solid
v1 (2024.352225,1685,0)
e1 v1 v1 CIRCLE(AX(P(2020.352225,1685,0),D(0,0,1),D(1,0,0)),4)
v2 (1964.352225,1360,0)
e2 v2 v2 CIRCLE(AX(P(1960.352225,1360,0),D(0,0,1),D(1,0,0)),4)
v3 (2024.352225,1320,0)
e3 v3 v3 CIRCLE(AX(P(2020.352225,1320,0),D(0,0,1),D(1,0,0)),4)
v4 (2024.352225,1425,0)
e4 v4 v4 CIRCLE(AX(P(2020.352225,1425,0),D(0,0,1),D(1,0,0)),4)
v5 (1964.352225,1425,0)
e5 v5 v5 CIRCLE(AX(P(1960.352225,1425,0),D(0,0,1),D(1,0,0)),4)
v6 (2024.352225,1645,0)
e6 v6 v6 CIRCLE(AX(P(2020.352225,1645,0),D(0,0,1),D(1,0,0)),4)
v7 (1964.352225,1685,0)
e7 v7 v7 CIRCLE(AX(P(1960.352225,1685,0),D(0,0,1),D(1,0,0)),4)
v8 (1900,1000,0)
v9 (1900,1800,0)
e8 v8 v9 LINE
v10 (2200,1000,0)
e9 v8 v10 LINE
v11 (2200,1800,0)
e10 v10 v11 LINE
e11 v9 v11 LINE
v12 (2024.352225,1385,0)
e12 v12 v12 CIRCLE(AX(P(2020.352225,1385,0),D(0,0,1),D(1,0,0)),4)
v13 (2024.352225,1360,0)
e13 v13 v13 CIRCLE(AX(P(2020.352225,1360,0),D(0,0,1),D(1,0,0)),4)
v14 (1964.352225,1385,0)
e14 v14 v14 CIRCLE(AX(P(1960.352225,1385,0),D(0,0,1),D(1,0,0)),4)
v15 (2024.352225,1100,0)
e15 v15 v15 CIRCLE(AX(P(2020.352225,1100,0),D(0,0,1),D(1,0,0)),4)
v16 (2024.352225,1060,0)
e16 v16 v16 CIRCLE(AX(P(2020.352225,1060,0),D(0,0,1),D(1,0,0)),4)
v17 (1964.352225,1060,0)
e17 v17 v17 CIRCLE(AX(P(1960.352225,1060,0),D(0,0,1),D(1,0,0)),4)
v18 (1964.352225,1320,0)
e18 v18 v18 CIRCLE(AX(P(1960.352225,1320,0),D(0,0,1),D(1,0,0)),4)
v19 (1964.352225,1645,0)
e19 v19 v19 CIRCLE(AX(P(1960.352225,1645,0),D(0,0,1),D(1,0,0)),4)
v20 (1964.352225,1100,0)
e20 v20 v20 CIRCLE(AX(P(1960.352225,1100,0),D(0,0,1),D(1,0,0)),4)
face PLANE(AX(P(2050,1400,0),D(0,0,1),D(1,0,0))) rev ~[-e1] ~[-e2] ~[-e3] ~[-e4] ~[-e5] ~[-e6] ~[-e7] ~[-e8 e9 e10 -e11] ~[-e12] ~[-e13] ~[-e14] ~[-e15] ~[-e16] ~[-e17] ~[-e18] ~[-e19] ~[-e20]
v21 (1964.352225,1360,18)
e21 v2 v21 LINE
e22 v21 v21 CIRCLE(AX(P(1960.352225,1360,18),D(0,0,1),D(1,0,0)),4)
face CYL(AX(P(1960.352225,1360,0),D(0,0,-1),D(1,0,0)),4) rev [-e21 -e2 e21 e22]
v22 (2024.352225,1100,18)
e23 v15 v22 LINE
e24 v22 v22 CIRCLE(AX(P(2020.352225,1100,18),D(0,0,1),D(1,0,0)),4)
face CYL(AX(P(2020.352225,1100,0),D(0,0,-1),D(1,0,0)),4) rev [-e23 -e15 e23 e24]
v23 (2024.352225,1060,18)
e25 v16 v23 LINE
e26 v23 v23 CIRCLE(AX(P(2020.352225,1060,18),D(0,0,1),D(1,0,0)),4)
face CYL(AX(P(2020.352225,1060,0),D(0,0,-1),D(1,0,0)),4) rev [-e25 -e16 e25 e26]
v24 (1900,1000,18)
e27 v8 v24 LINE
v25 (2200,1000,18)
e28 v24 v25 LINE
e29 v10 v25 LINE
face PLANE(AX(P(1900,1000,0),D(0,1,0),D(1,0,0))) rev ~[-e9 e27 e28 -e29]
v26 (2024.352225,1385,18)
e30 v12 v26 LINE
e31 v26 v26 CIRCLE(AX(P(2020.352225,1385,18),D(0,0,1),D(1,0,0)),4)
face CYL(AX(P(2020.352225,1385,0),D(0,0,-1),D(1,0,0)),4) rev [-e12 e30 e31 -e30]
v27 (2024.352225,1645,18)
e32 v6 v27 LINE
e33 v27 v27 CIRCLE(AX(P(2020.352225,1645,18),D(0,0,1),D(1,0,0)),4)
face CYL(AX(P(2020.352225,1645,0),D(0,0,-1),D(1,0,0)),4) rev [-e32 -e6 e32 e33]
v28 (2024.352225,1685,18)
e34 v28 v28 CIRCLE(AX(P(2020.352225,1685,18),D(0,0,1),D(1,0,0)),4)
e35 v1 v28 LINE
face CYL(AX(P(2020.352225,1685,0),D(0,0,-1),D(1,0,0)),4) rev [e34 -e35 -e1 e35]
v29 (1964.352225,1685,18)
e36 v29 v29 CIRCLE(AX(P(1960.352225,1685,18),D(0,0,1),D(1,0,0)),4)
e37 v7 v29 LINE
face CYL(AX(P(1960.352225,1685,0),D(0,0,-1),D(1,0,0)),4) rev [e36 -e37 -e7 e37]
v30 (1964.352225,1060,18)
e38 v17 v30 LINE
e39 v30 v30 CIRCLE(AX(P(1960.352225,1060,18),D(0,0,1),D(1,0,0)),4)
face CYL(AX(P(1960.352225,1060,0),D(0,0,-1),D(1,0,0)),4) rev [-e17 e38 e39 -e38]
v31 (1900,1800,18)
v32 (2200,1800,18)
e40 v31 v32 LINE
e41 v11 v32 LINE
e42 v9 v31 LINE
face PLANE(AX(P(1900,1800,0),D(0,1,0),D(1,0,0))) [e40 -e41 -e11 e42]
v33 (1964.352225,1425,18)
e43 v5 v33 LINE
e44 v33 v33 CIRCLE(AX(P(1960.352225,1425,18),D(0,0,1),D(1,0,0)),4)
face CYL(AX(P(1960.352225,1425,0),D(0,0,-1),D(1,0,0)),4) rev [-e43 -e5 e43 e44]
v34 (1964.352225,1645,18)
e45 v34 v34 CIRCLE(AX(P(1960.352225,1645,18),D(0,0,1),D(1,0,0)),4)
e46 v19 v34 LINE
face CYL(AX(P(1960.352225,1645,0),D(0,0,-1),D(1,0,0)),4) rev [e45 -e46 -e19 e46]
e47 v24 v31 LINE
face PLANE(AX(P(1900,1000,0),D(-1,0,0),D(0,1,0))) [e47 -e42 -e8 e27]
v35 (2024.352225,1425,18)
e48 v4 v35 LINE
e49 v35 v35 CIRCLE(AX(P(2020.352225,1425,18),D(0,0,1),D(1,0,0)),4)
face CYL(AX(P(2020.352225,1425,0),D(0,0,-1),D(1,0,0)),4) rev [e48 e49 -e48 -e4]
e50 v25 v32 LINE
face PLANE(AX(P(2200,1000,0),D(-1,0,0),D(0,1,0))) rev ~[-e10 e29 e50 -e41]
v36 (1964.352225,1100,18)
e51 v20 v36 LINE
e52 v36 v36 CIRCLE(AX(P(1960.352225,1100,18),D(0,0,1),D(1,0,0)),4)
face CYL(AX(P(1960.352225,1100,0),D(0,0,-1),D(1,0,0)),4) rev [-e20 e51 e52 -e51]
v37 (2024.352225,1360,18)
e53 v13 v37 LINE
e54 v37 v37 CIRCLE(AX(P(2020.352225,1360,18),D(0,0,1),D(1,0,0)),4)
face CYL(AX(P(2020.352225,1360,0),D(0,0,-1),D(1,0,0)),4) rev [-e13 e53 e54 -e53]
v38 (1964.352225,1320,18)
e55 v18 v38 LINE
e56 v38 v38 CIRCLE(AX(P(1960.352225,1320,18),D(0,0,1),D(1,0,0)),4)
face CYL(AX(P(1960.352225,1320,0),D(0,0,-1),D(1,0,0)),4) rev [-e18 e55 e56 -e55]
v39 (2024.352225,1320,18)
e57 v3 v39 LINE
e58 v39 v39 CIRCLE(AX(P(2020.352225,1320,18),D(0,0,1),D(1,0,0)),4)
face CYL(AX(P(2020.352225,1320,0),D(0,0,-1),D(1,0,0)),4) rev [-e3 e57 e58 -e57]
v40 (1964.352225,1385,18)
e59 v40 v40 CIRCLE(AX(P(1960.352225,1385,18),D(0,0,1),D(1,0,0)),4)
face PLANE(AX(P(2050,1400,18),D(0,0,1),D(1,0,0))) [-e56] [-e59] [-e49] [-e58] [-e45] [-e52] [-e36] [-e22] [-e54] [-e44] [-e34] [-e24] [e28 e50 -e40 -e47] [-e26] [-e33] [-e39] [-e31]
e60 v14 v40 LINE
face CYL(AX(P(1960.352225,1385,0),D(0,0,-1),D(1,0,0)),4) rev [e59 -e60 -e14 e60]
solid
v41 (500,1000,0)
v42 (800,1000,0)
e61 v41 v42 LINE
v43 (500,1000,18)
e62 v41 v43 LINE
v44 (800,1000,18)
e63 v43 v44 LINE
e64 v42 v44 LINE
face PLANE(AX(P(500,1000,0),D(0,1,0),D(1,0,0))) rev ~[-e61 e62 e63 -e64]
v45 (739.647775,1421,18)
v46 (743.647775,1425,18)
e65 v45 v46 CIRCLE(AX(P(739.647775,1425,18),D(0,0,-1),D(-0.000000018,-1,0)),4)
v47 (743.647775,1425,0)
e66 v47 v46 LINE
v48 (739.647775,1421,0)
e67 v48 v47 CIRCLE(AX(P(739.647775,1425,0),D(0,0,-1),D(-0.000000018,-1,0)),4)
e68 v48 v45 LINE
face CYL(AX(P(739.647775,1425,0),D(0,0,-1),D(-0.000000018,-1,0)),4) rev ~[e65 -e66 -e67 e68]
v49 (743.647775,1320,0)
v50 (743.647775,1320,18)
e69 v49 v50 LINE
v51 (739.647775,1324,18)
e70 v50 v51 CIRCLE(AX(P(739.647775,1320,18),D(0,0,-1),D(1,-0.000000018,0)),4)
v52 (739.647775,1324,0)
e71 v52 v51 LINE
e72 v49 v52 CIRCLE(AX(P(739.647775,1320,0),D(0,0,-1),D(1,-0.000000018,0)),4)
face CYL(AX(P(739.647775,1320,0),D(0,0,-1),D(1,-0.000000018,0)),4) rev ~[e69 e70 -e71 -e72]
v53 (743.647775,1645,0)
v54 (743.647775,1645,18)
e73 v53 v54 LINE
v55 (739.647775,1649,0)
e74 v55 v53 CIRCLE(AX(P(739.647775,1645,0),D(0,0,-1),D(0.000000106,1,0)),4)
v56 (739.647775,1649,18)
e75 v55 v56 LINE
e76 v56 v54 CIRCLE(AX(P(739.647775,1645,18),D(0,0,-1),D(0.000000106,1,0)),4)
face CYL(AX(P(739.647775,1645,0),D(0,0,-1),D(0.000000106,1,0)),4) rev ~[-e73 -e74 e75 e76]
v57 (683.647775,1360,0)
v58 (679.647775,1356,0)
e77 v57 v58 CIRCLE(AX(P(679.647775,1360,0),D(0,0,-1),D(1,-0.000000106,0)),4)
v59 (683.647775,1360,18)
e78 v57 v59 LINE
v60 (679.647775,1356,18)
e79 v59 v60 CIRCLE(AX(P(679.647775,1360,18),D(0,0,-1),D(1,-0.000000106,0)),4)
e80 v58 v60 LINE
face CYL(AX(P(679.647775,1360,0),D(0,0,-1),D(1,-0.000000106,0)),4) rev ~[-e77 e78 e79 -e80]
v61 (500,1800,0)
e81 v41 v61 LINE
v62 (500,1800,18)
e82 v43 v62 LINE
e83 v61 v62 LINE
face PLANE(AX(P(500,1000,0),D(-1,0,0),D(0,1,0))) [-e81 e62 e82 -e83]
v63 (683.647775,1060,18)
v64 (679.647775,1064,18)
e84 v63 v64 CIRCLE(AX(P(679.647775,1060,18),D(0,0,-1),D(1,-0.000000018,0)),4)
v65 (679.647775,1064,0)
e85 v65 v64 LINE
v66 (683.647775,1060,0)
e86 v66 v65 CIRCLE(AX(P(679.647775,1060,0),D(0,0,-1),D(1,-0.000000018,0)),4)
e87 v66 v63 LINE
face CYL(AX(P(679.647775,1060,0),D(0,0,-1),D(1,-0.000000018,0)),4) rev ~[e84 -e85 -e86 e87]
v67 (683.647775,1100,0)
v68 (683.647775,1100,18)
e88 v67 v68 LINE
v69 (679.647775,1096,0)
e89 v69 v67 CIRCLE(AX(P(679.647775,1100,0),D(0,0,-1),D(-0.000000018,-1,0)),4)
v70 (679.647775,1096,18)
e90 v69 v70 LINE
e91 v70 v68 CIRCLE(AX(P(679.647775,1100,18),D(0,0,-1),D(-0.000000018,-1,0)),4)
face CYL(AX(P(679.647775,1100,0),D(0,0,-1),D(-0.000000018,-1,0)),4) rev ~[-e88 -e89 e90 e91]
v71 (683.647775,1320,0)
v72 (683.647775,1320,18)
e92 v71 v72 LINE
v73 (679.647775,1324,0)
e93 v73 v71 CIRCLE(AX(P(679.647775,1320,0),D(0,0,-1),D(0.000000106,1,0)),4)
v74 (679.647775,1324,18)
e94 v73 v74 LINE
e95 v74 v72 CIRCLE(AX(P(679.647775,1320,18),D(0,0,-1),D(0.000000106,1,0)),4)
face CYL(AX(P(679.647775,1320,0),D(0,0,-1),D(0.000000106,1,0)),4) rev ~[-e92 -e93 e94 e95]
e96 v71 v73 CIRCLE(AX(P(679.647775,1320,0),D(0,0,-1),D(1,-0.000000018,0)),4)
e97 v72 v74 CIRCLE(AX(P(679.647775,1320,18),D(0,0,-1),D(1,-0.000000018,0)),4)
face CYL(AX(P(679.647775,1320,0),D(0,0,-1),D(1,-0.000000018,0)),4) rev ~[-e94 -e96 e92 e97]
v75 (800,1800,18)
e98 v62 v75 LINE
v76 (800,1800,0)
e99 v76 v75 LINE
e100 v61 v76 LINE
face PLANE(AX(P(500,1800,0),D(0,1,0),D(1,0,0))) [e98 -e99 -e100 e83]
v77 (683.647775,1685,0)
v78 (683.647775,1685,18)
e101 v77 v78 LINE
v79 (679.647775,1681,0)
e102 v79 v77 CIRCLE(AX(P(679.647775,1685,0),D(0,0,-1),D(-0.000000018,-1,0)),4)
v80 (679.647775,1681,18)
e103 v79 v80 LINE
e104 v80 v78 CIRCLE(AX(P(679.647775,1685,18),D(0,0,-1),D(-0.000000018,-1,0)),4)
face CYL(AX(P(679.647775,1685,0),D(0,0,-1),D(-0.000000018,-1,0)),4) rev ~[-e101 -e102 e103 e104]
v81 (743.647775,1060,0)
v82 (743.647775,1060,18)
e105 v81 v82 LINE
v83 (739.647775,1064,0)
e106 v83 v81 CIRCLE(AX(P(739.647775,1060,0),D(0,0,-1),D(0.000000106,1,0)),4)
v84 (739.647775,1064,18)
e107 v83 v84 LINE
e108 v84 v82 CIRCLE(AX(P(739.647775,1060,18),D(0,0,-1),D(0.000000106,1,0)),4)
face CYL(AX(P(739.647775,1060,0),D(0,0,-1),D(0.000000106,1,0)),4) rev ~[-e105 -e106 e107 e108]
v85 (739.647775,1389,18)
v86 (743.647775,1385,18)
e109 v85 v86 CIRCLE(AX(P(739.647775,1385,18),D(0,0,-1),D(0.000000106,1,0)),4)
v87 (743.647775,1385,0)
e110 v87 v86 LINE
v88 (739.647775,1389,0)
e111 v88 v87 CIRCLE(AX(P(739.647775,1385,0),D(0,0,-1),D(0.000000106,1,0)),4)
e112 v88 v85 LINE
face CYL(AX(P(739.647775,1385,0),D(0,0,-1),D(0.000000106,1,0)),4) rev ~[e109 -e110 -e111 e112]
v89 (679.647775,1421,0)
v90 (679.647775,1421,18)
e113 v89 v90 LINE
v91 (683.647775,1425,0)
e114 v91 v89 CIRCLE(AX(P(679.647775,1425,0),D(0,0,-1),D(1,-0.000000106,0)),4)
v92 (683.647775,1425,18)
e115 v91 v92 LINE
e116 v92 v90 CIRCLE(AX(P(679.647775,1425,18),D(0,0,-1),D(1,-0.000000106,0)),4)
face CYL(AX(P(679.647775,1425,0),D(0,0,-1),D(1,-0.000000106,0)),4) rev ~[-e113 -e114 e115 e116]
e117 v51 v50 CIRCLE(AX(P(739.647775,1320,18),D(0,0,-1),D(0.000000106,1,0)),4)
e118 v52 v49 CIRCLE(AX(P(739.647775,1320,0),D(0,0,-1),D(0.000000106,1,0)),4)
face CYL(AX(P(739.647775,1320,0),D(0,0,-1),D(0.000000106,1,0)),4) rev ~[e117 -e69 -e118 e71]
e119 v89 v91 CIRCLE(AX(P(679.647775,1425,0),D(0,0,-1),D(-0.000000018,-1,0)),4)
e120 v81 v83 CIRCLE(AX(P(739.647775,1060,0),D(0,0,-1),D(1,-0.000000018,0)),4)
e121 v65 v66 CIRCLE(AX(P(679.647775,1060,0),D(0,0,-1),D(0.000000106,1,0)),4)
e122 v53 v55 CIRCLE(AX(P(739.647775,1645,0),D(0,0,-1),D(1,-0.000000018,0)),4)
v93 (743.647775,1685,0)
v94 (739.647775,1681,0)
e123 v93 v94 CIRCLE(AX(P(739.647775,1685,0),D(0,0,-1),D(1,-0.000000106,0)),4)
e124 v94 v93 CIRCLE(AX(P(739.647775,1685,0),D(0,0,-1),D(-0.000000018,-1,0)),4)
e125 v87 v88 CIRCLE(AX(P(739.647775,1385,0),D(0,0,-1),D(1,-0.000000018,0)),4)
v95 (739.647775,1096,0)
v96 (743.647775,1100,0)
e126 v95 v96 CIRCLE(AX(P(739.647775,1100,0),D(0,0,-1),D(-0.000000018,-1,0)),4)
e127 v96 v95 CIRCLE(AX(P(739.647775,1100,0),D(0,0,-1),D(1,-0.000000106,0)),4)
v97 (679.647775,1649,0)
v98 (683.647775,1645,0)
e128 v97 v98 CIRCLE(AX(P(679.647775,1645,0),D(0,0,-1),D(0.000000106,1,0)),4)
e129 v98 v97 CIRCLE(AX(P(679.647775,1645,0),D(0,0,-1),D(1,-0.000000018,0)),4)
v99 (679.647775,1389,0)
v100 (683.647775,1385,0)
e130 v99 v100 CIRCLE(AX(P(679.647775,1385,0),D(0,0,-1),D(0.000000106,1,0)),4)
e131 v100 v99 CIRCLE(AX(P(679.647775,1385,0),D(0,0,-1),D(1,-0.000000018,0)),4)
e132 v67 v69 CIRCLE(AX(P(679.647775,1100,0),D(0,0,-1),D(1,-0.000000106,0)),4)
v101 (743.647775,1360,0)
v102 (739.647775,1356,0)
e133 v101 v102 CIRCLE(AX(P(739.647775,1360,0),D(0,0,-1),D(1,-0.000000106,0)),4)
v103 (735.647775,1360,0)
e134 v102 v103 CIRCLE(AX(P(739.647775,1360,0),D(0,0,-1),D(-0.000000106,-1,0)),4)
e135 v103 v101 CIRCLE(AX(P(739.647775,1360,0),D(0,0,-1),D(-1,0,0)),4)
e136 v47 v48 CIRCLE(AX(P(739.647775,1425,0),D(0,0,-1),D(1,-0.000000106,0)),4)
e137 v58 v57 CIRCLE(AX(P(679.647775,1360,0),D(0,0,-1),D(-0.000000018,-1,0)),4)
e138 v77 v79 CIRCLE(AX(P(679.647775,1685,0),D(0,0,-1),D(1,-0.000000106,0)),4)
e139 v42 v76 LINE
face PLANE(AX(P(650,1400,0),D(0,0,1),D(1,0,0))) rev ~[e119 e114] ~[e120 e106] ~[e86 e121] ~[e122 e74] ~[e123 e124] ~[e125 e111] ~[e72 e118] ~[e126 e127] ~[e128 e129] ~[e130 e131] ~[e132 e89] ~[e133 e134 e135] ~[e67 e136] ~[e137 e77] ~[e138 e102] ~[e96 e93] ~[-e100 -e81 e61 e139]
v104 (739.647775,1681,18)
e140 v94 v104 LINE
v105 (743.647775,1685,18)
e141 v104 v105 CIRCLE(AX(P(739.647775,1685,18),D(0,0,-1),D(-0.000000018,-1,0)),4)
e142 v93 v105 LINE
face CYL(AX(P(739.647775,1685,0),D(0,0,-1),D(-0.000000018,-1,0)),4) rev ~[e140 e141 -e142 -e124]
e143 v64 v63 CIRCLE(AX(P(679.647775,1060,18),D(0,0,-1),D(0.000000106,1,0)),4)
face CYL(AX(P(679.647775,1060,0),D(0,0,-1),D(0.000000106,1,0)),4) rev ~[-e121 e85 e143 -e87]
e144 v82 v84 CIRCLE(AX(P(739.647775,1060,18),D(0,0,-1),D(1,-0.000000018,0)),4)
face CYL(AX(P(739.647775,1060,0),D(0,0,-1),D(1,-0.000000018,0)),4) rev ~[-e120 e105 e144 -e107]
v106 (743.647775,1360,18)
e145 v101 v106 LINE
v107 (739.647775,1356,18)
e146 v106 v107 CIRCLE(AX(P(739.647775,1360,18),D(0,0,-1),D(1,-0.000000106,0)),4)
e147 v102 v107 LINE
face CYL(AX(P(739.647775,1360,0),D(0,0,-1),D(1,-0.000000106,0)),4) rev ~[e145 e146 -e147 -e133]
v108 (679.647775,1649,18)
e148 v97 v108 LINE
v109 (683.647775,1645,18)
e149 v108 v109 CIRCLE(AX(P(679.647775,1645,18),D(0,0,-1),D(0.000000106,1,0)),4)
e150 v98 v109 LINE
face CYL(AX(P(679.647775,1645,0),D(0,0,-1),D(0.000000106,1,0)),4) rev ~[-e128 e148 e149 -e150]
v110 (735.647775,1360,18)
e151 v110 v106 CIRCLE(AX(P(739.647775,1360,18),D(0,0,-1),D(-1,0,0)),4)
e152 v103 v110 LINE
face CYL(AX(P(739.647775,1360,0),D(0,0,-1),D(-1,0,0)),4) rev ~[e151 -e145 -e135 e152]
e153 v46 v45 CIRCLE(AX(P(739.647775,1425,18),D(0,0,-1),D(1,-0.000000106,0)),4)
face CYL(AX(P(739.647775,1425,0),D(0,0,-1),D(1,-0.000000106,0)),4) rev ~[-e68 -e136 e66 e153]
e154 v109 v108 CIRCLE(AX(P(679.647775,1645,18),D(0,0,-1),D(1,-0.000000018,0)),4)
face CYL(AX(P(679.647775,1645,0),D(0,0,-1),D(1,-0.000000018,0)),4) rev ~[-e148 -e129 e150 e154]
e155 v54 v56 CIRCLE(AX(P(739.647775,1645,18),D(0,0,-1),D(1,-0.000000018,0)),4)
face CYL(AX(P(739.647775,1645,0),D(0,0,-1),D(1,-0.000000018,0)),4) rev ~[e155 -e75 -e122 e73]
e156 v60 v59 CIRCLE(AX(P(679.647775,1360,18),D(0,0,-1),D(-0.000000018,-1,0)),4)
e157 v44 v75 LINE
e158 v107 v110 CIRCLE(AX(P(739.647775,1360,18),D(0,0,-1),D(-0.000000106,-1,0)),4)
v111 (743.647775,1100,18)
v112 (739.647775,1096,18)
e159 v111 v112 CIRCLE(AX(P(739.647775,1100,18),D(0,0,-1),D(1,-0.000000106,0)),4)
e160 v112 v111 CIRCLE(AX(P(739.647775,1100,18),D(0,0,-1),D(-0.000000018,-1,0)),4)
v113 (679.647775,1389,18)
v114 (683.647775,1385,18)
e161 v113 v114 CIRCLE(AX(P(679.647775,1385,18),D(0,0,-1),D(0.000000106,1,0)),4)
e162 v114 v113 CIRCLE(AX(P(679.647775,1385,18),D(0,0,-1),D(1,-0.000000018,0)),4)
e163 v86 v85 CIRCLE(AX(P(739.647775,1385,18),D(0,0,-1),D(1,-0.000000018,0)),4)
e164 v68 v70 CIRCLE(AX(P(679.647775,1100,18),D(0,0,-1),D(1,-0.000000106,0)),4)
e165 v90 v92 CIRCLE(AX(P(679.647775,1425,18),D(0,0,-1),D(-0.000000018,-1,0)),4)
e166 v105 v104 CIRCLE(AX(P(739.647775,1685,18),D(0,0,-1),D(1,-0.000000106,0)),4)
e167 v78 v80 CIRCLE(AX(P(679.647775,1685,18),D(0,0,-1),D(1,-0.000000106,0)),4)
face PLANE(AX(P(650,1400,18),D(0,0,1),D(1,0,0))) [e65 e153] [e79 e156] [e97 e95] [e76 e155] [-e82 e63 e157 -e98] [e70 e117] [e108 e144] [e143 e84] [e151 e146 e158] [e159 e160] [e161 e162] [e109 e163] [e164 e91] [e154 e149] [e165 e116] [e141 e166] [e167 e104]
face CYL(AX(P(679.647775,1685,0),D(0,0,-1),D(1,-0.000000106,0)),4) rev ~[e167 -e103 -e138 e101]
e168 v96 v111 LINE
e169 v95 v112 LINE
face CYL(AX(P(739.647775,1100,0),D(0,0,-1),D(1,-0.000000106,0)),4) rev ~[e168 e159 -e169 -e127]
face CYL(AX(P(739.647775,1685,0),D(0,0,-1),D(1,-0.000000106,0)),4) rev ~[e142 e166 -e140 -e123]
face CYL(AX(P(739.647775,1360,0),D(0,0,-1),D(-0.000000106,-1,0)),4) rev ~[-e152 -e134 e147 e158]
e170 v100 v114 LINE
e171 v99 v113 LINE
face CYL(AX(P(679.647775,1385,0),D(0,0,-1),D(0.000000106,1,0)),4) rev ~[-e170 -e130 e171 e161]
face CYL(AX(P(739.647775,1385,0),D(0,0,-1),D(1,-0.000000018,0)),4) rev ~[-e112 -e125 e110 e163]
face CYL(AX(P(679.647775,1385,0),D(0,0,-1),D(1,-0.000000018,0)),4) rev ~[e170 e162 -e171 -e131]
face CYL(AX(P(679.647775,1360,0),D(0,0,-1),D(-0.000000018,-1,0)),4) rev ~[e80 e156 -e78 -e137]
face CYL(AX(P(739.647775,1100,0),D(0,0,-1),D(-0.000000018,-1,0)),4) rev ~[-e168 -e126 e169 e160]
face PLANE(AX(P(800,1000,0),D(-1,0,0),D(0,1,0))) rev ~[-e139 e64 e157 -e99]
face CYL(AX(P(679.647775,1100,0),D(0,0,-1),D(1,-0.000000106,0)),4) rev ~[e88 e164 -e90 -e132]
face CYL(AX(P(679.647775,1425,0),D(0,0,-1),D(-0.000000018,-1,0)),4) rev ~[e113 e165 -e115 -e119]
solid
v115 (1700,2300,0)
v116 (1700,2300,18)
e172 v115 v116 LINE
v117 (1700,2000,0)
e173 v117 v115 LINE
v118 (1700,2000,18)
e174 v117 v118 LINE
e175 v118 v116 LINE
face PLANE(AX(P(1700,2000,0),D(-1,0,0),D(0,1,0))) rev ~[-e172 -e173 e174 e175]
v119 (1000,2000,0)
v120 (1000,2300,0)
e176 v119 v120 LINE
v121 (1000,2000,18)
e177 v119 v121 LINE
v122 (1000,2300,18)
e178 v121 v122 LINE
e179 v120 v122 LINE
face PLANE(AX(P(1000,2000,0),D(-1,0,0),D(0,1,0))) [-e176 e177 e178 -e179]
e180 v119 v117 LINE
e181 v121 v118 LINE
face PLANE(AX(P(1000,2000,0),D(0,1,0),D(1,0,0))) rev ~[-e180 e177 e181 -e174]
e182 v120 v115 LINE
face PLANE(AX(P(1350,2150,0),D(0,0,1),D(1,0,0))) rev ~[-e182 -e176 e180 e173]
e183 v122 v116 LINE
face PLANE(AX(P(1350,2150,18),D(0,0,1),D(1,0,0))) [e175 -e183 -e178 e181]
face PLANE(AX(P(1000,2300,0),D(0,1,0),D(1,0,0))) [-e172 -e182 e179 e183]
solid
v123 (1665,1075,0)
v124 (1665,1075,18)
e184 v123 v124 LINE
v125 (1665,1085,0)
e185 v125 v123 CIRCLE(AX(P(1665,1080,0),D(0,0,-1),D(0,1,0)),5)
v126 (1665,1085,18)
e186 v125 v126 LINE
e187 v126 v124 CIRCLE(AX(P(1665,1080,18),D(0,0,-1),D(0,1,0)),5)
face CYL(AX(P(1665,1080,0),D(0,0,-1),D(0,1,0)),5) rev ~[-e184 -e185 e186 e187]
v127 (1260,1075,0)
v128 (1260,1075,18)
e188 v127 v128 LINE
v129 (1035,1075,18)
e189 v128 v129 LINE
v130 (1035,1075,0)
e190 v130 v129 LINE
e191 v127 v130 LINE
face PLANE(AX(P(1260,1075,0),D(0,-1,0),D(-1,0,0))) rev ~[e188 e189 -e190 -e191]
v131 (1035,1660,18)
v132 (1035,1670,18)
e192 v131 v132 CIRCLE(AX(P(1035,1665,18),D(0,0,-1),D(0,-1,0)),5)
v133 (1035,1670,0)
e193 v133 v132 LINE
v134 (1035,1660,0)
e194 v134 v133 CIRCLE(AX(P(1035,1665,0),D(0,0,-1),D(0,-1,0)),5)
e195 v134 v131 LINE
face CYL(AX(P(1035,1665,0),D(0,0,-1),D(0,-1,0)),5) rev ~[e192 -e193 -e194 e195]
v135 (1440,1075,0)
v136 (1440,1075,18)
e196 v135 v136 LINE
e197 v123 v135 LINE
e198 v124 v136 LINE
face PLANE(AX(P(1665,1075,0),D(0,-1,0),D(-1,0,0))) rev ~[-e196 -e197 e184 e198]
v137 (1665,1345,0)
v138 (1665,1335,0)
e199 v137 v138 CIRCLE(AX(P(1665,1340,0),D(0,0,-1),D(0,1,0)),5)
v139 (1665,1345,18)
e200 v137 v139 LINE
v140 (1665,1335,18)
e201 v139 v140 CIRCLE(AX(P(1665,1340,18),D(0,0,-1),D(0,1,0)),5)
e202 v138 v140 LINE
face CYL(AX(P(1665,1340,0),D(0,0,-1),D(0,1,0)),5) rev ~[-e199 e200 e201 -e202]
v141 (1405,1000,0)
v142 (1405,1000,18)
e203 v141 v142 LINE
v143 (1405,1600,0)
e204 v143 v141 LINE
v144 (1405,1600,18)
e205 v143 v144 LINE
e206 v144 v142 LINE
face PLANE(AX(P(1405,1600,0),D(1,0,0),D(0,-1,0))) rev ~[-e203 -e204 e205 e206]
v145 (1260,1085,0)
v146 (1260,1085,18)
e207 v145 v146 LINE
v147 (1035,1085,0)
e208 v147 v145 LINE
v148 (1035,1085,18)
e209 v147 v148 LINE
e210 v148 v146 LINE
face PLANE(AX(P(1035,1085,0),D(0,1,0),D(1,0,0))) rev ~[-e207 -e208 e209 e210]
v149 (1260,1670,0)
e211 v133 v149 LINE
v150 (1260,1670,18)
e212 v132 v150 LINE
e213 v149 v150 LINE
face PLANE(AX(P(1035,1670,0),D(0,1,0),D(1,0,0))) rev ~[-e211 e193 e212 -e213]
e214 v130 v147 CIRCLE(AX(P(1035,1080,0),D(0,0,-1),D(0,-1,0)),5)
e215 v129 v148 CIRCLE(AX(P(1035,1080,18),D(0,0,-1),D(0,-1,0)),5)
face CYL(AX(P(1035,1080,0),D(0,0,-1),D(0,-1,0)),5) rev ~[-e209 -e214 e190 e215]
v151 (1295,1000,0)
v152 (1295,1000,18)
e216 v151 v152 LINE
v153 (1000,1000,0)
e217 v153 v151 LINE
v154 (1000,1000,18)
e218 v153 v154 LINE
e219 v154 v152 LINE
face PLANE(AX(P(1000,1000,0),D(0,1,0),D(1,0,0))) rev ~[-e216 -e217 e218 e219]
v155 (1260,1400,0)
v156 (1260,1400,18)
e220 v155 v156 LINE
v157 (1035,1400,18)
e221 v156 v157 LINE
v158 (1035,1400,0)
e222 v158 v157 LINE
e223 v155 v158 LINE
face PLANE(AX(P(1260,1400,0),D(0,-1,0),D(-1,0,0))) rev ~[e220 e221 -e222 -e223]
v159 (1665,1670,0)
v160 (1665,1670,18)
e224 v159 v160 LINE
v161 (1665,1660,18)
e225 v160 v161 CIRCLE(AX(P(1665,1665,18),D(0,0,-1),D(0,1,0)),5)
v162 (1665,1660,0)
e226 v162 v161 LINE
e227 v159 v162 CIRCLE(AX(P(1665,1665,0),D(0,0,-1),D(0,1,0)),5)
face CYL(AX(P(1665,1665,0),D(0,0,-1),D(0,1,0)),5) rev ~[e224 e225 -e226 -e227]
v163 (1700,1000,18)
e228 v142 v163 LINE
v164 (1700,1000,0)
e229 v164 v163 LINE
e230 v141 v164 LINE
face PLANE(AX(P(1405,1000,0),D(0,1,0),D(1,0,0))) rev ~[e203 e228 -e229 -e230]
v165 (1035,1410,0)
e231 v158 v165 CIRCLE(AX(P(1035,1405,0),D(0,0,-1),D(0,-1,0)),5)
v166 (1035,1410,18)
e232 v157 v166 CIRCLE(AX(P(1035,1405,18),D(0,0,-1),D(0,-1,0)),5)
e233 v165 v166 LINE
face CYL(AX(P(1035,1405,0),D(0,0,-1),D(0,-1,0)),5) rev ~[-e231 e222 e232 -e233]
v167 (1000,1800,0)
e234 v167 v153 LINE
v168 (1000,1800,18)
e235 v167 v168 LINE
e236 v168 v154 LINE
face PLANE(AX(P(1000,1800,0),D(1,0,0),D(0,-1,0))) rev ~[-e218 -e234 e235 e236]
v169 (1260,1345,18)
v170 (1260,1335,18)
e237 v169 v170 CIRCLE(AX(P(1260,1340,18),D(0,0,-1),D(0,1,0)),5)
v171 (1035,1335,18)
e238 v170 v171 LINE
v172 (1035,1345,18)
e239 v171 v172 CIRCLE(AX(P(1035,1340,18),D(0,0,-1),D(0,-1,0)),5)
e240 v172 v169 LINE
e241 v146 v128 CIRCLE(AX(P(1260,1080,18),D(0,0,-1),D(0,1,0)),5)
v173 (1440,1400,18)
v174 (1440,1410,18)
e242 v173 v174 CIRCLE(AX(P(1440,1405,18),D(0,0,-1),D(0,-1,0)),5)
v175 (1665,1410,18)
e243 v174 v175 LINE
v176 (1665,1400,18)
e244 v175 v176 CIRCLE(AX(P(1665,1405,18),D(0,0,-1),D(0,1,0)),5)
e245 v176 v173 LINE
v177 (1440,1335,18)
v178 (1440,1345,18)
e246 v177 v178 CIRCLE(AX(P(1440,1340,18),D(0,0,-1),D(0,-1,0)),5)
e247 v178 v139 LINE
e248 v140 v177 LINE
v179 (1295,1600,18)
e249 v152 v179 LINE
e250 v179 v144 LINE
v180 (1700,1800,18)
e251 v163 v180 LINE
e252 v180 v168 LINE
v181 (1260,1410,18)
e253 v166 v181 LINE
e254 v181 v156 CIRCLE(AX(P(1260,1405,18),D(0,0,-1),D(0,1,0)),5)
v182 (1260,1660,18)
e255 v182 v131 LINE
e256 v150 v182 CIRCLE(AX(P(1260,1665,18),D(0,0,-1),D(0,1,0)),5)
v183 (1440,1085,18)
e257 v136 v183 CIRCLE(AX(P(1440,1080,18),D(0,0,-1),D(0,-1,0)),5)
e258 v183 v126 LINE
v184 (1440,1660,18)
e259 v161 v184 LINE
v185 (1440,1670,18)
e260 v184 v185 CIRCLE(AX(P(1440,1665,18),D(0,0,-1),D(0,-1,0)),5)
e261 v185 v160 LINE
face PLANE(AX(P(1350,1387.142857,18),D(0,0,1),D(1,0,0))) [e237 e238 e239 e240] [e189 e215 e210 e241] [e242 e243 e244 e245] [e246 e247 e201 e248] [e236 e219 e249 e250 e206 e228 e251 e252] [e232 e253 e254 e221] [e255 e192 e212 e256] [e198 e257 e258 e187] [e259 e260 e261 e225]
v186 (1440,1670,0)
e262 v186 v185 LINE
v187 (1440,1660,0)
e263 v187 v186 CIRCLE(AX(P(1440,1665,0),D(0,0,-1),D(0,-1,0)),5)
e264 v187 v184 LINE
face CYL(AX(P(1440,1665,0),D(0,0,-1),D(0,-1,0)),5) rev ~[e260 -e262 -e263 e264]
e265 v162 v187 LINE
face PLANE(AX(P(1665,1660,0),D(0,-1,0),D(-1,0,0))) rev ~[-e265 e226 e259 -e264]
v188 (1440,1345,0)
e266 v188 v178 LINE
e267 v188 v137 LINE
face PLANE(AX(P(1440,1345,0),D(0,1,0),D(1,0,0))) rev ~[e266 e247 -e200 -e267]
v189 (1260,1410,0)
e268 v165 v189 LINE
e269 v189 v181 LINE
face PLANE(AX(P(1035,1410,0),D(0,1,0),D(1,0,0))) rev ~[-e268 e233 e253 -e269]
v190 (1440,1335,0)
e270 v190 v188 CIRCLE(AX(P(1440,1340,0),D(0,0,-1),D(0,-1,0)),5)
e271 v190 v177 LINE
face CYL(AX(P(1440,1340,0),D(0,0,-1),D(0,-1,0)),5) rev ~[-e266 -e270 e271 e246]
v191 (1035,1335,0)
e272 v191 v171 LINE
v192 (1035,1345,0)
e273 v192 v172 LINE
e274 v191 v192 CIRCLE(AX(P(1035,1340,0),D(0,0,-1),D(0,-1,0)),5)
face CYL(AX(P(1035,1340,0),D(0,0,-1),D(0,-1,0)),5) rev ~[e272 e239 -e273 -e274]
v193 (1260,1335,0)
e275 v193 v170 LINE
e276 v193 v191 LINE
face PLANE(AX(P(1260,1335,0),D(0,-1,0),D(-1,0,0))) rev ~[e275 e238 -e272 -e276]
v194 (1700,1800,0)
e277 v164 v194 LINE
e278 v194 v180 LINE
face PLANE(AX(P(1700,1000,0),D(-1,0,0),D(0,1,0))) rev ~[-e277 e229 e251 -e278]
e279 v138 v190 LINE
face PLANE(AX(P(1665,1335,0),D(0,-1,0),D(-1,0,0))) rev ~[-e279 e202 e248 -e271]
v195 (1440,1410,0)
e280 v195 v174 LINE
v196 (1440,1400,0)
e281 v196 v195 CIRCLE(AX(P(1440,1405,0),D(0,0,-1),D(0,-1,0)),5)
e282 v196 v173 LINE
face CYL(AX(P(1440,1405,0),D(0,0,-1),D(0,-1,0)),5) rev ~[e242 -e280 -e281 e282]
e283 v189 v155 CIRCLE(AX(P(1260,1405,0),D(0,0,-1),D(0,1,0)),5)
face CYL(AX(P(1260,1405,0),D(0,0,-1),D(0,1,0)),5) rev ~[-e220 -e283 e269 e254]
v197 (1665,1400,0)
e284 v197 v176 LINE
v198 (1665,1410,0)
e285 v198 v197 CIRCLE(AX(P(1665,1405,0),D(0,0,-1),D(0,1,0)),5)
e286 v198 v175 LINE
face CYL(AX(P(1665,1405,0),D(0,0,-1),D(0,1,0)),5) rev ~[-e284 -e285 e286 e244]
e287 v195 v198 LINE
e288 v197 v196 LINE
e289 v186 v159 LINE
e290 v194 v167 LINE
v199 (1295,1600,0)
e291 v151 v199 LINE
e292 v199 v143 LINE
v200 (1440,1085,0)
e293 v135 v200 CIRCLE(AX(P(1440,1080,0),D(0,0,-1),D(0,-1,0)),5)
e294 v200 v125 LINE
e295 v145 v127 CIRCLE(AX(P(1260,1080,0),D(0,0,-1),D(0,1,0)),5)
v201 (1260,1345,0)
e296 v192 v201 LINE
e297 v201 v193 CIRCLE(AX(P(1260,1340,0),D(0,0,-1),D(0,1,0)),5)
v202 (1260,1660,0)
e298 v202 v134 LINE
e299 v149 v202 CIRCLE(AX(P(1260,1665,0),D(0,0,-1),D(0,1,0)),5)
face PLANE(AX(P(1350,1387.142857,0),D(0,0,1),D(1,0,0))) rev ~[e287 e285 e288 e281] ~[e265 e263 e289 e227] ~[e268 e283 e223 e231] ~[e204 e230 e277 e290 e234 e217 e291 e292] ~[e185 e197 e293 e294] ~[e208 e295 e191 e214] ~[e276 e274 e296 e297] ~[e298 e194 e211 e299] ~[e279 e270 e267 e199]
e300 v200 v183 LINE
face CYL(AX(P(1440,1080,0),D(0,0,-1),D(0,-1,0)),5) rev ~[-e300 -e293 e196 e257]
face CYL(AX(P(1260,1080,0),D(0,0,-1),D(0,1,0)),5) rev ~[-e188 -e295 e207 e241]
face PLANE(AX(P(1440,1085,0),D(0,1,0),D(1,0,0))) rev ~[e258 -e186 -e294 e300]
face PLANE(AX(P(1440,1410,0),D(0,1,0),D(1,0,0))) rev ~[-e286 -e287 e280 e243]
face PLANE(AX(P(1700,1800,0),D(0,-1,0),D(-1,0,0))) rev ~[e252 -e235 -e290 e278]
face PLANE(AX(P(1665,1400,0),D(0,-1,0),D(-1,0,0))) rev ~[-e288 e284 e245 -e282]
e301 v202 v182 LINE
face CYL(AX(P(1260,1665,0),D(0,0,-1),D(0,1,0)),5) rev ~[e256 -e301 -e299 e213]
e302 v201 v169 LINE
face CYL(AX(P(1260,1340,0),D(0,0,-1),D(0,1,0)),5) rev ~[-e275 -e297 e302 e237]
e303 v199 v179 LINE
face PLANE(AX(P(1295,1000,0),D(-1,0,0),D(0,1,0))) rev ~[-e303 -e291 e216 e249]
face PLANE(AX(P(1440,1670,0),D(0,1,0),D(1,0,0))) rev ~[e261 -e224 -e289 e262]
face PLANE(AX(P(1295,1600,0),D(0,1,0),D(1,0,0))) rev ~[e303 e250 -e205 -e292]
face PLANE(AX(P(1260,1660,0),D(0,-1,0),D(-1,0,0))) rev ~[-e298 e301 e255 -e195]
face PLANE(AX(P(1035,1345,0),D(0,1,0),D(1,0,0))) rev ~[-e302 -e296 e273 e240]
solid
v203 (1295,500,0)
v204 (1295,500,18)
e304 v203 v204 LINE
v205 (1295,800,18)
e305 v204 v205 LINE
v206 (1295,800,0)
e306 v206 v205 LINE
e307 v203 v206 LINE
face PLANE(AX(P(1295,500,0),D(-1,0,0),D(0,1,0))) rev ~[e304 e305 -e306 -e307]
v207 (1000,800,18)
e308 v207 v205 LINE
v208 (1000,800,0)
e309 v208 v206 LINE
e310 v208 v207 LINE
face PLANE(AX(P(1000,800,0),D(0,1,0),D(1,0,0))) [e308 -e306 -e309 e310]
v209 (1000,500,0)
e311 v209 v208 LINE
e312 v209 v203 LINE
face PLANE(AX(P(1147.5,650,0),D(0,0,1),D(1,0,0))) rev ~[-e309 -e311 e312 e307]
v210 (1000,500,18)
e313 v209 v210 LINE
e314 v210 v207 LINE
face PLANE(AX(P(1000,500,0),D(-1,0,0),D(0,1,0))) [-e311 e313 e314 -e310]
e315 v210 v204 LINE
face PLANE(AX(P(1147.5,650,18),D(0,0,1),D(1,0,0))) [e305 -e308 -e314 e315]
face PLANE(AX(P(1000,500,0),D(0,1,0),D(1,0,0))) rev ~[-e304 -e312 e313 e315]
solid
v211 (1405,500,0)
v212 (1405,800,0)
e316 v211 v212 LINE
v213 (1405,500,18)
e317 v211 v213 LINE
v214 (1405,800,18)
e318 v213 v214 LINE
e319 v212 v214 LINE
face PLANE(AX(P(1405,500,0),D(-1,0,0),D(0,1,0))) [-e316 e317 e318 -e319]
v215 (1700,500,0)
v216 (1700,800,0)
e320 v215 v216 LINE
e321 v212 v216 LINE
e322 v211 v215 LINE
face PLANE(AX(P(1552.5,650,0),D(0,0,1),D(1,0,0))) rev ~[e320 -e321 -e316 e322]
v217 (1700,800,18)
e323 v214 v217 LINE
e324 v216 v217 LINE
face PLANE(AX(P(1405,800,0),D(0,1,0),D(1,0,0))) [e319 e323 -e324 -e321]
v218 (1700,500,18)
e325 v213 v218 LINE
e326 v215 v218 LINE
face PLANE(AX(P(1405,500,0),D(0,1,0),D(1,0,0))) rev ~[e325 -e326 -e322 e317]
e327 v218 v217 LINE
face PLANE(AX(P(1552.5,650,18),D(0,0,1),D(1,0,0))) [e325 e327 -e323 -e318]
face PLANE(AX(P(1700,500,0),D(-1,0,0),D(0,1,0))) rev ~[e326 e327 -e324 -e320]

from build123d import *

# Parameters (mm, degrees)
F1_W     = 300
F1_H     = 800
F1_R     = 4
F1_W_2   = 295
F1_H_2   = 300
F1_W_3   = 700
F2_DEPTH = 18


with BuildPart() as f2:
    # F1 (on Top) → F2 (new body)
    with BuildSketch(Plane.XY):
        with Locations((650, 1400)):
            Rectangle(F1_W, F1_H)
        with BuildLine():
            ThreePointArc((683.647775, 1060), (676.819348, 1057.171573), (679.647775, 1064))
            ThreePointArc((679.647775, 1064), (682.476202, 1062.828427), (683.647775, 1060))
        make_face(mode=Mode.SUBTRACT)
        with BuildLine():
            ThreePointArc((683.647775, 1100), (682.476202, 1097.171573), (679.647775, 1096))
            ThreePointArc((679.647775, 1096), (676.819348, 1102.828427), (683.647775, 1100))
        make_face(mode=Mode.SUBTRACT)
        with BuildLine():
            ThreePointArc((743.647775, 1060), (736.819348, 1057.171573), (739.647775, 1064))
            ThreePointArc((739.647775, 1064), (742.476202, 1062.828427), (743.647775, 1060))
        make_face(mode=Mode.SUBTRACT)
        with BuildLine():
            ThreePointArc((743.647775, 1100), (742.476202, 1097.171573), (739.647775, 1096))
            ThreePointArc((739.647775, 1096), (736.819348, 1102.828427), (743.647775, 1100))
        make_face(mode=Mode.SUBTRACT)
        with BuildLine():
            ThreePointArc((683.647775, 1320), (676.819348, 1317.171573), (679.647775, 1324))
            ThreePointArc((679.647775, 1324), (682.476202, 1322.828427), (683.647775, 1320))
        make_face(mode=Mode.SUBTRACT)
        with BuildLine():
            ThreePointArc((679.647775, 1356), (676.819348, 1362.828427), (683.647775, 1360))
            ThreePointArc((683.647775, 1360), (682.476202, 1357.171573), (679.647775, 1356))
        make_face(mode=Mode.SUBTRACT)
        with BuildLine():
            ThreePointArc((683.647775, 1385), (676.819348, 1382.171573), (679.647775, 1389))
            ThreePointArc((679.647775, 1389), (682.476202, 1387.828427), (683.647775, 1385))
        make_face(mode=Mode.SUBTRACT)
        with BuildLine():
            ThreePointArc((743.647775, 1320), (736.819348, 1317.171573), (739.647775, 1324))
            ThreePointArc((739.647775, 1324), (742.476202, 1322.828427), (743.647775, 1320))
        make_face(mode=Mode.SUBTRACT)
        with BuildLine():
            ThreePointArc((739.647775, 1356), (736.819348, 1357.171573), (735.647775, 1360))
            ThreePointArc((735.647775, 1360), (739.647775, 1364), (743.647775, 1360))
            ThreePointArc((743.647775, 1360), (742.476202, 1357.171573), (739.647775, 1356))
        make_face(mode=Mode.SUBTRACT)
        with BuildLine():
            ThreePointArc((743.647775, 1385), (736.819348, 1382.171573), (739.647775, 1389))
            ThreePointArc((739.647775, 1389), (742.476202, 1387.828427), (743.647775, 1385))
        make_face(mode=Mode.SUBTRACT)
        with BuildLine():
            ThreePointArc((683.647775, 1425), (682.476202, 1422.171573), (679.647775, 1421))
            ThreePointArc((679.647775, 1421), (676.819348, 1427.828427), (683.647775, 1425))
        make_face(mode=Mode.SUBTRACT)
        with BuildLine():
            ThreePointArc((743.647775, 1425), (742.476202, 1422.171573), (739.647775, 1421))
            ThreePointArc((739.647775, 1421), (736.819348, 1427.828427), (743.647775, 1425))
        make_face(mode=Mode.SUBTRACT)
        with BuildLine():
            ThreePointArc((683.647775, 1645), (676.819348, 1642.171573), (679.647775, 1649))
            ThreePointArc((679.647775, 1649), (682.476202, 1647.828427), (683.647775, 1645))
        make_face(mode=Mode.SUBTRACT)
        with BuildLine():
            ThreePointArc((683.647775, 1685), (682.476202, 1682.171573), (679.647775, 1681))
            ThreePointArc((679.647775, 1681), (676.819348, 1687.828427), (683.647775, 1685))
        make_face(mode=Mode.SUBTRACT)
        with BuildLine():
            ThreePointArc((743.647775, 1645), (736.819348, 1642.171573), (739.647775, 1649))
            ThreePointArc((739.647775, 1649), (742.476202, 1647.828427), (743.647775, 1645))
        make_face(mode=Mode.SUBTRACT)
        with BuildLine():
            ThreePointArc((743.647775, 1685), (742.476202, 1682.171573), (739.647775, 1681))
            ThreePointArc((739.647775, 1681), (736.819348, 1687.828427), (743.647775, 1685))
        make_face(mode=Mode.SUBTRACT)
        Polygon((1000, 1800), (1000, 1000), (1295, 1000), (1295, 1600), (1405, 1600), (1405, 1000), (1700, 1000), (1700, 1800), align=None)
        with BuildLine():
            Line((1260, 1075), (1035, 1075))
            ThreePointArc((1035, 1075), (1030, 1080), (1035, 1085))
            Line((1035, 1085), (1260, 1085))
            ThreePointArc((1260, 1085), (1265, 1080), (1260, 1075))
        make_face(mode=Mode.SUBTRACT)
        with BuildLine():
            Line((1035, 1345), (1260, 1345))
            ThreePointArc((1260, 1345), (1265, 1340), (1260, 1335))
            Line((1260, 1335), (1035, 1335))
            ThreePointArc((1035, 1335), (1030, 1340), (1035, 1345))
        make_face(mode=Mode.SUBTRACT)
        with BuildLine():
            Line((1440, 1085), (1665, 1085))
            ThreePointArc((1665, 1085), (1670, 1080), (1665, 1075))
            Line((1665, 1075), (1440, 1075))
            ThreePointArc((1440, 1075), (1435, 1080), (1440, 1085))
        make_face(mode=Mode.SUBTRACT)
        with BuildLine():
            Line((1665, 1335), (1440, 1335))
            ThreePointArc((1440, 1335), (1435, 1340), (1440, 1345))
            Line((1440, 1345), (1665, 1345))
            ThreePointArc((1665, 1345), (1670, 1340), (1665, 1335))
        make_face(mode=Mode.SUBTRACT)
        with BuildLine():
            Line((1035, 1410), (1260, 1410))
            ThreePointArc((1260, 1410), (1265, 1405), (1260, 1400))
            Line((1260, 1400), (1035, 1400))
            ThreePointArc((1035, 1400), (1030, 1405), (1035, 1410))
        make_face(mode=Mode.SUBTRACT)
        with BuildLine():
            Line((1035, 1670), (1260, 1670))
            ThreePointArc((1260, 1670), (1265, 1665), (1260, 1660))
            Line((1260, 1660), (1035, 1660))
            ThreePointArc((1035, 1660), (1030, 1665), (1035, 1670))
        make_face(mode=Mode.SUBTRACT)
        with BuildLine():
            Line((1665, 1400), (1440, 1400))
            ThreePointArc((1440, 1400), (1435, 1405), (1440, 1410))
            Line((1440, 1410), (1665, 1410))
            ThreePointArc((1665, 1410), (1670, 1405), (1665, 1400))
        make_face(mode=Mode.SUBTRACT)
        with BuildLine():
            Line((1665, 1660), (1440, 1660))
            ThreePointArc((1440, 1660), (1435, 1665), (1440, 1670))
            Line((1440, 1670), (1665, 1670))
            ThreePointArc((1665, 1670), (1670, 1665), (1665, 1660))
        make_face(mode=Mode.SUBTRACT)
        with Locations((2050, 1400)):
            Rectangle(F1_W, F1_H)
        with Locations((1960.352225, 1060)):
            Circle(F1_R, mode=Mode.SUBTRACT)
        with Locations((1960.352225, 1100)):
            Circle(F1_R, mode=Mode.SUBTRACT)
        with Locations((2020.352225, 1060)):
            Circle(F1_R, mode=Mode.SUBTRACT)
        with Locations((2020.352225, 1100)):
            Circle(F1_R, mode=Mode.SUBTRACT)
        with Locations((1960.352225, 1320)):
            Circle(F1_R, mode=Mode.SUBTRACT)
        with Locations((1960.352225, 1360)):
            Circle(F1_R, mode=Mode.SUBTRACT)
        with Locations((1960.352225, 1385)):
            Circle(F1_R, mode=Mode.SUBTRACT)
        with Locations((2020.352225, 1320)):
            Circle(F1_R, mode=Mode.SUBTRACT)
        with Locations((2020.352225, 1360)):
            Circle(F1_R, mode=Mode.SUBTRACT)
        with Locations((2020.352225, 1385)):
            Circle(F1_R, mode=Mode.SUBTRACT)
        with Locations((1960.352225, 1425)):
            Circle(F1_R, mode=Mode.SUBTRACT)
        with Locations((2020.352225, 1425)):
            Circle(F1_R, mode=Mode.SUBTRACT)
        with Locations((1960.352225, 1645)):
            Circle(F1_R, mode=Mode.SUBTRACT)
        with Locations((1960.352225, 1685)):
            Circle(F1_R, mode=Mode.SUBTRACT)
        with Locations((2020.352225, 1645)):
            Circle(F1_R, mode=Mode.SUBTRACT)
        with Locations((2020.352225, 1685)):
            Circle(F1_R, mode=Mode.SUBTRACT)
        with Locations((1552.5, 650)):
            Rectangle(F1_W_2, F1_H_2)
        with Locations((1147.5, 650)):
            Rectangle(F1_W_2, F1_H_2)
        with Locations((1350, 2150)):
            Rectangle(F1_W_3, F1_H_2)
    extrude(amount=F2_DEPTH)


solid = f2.part
